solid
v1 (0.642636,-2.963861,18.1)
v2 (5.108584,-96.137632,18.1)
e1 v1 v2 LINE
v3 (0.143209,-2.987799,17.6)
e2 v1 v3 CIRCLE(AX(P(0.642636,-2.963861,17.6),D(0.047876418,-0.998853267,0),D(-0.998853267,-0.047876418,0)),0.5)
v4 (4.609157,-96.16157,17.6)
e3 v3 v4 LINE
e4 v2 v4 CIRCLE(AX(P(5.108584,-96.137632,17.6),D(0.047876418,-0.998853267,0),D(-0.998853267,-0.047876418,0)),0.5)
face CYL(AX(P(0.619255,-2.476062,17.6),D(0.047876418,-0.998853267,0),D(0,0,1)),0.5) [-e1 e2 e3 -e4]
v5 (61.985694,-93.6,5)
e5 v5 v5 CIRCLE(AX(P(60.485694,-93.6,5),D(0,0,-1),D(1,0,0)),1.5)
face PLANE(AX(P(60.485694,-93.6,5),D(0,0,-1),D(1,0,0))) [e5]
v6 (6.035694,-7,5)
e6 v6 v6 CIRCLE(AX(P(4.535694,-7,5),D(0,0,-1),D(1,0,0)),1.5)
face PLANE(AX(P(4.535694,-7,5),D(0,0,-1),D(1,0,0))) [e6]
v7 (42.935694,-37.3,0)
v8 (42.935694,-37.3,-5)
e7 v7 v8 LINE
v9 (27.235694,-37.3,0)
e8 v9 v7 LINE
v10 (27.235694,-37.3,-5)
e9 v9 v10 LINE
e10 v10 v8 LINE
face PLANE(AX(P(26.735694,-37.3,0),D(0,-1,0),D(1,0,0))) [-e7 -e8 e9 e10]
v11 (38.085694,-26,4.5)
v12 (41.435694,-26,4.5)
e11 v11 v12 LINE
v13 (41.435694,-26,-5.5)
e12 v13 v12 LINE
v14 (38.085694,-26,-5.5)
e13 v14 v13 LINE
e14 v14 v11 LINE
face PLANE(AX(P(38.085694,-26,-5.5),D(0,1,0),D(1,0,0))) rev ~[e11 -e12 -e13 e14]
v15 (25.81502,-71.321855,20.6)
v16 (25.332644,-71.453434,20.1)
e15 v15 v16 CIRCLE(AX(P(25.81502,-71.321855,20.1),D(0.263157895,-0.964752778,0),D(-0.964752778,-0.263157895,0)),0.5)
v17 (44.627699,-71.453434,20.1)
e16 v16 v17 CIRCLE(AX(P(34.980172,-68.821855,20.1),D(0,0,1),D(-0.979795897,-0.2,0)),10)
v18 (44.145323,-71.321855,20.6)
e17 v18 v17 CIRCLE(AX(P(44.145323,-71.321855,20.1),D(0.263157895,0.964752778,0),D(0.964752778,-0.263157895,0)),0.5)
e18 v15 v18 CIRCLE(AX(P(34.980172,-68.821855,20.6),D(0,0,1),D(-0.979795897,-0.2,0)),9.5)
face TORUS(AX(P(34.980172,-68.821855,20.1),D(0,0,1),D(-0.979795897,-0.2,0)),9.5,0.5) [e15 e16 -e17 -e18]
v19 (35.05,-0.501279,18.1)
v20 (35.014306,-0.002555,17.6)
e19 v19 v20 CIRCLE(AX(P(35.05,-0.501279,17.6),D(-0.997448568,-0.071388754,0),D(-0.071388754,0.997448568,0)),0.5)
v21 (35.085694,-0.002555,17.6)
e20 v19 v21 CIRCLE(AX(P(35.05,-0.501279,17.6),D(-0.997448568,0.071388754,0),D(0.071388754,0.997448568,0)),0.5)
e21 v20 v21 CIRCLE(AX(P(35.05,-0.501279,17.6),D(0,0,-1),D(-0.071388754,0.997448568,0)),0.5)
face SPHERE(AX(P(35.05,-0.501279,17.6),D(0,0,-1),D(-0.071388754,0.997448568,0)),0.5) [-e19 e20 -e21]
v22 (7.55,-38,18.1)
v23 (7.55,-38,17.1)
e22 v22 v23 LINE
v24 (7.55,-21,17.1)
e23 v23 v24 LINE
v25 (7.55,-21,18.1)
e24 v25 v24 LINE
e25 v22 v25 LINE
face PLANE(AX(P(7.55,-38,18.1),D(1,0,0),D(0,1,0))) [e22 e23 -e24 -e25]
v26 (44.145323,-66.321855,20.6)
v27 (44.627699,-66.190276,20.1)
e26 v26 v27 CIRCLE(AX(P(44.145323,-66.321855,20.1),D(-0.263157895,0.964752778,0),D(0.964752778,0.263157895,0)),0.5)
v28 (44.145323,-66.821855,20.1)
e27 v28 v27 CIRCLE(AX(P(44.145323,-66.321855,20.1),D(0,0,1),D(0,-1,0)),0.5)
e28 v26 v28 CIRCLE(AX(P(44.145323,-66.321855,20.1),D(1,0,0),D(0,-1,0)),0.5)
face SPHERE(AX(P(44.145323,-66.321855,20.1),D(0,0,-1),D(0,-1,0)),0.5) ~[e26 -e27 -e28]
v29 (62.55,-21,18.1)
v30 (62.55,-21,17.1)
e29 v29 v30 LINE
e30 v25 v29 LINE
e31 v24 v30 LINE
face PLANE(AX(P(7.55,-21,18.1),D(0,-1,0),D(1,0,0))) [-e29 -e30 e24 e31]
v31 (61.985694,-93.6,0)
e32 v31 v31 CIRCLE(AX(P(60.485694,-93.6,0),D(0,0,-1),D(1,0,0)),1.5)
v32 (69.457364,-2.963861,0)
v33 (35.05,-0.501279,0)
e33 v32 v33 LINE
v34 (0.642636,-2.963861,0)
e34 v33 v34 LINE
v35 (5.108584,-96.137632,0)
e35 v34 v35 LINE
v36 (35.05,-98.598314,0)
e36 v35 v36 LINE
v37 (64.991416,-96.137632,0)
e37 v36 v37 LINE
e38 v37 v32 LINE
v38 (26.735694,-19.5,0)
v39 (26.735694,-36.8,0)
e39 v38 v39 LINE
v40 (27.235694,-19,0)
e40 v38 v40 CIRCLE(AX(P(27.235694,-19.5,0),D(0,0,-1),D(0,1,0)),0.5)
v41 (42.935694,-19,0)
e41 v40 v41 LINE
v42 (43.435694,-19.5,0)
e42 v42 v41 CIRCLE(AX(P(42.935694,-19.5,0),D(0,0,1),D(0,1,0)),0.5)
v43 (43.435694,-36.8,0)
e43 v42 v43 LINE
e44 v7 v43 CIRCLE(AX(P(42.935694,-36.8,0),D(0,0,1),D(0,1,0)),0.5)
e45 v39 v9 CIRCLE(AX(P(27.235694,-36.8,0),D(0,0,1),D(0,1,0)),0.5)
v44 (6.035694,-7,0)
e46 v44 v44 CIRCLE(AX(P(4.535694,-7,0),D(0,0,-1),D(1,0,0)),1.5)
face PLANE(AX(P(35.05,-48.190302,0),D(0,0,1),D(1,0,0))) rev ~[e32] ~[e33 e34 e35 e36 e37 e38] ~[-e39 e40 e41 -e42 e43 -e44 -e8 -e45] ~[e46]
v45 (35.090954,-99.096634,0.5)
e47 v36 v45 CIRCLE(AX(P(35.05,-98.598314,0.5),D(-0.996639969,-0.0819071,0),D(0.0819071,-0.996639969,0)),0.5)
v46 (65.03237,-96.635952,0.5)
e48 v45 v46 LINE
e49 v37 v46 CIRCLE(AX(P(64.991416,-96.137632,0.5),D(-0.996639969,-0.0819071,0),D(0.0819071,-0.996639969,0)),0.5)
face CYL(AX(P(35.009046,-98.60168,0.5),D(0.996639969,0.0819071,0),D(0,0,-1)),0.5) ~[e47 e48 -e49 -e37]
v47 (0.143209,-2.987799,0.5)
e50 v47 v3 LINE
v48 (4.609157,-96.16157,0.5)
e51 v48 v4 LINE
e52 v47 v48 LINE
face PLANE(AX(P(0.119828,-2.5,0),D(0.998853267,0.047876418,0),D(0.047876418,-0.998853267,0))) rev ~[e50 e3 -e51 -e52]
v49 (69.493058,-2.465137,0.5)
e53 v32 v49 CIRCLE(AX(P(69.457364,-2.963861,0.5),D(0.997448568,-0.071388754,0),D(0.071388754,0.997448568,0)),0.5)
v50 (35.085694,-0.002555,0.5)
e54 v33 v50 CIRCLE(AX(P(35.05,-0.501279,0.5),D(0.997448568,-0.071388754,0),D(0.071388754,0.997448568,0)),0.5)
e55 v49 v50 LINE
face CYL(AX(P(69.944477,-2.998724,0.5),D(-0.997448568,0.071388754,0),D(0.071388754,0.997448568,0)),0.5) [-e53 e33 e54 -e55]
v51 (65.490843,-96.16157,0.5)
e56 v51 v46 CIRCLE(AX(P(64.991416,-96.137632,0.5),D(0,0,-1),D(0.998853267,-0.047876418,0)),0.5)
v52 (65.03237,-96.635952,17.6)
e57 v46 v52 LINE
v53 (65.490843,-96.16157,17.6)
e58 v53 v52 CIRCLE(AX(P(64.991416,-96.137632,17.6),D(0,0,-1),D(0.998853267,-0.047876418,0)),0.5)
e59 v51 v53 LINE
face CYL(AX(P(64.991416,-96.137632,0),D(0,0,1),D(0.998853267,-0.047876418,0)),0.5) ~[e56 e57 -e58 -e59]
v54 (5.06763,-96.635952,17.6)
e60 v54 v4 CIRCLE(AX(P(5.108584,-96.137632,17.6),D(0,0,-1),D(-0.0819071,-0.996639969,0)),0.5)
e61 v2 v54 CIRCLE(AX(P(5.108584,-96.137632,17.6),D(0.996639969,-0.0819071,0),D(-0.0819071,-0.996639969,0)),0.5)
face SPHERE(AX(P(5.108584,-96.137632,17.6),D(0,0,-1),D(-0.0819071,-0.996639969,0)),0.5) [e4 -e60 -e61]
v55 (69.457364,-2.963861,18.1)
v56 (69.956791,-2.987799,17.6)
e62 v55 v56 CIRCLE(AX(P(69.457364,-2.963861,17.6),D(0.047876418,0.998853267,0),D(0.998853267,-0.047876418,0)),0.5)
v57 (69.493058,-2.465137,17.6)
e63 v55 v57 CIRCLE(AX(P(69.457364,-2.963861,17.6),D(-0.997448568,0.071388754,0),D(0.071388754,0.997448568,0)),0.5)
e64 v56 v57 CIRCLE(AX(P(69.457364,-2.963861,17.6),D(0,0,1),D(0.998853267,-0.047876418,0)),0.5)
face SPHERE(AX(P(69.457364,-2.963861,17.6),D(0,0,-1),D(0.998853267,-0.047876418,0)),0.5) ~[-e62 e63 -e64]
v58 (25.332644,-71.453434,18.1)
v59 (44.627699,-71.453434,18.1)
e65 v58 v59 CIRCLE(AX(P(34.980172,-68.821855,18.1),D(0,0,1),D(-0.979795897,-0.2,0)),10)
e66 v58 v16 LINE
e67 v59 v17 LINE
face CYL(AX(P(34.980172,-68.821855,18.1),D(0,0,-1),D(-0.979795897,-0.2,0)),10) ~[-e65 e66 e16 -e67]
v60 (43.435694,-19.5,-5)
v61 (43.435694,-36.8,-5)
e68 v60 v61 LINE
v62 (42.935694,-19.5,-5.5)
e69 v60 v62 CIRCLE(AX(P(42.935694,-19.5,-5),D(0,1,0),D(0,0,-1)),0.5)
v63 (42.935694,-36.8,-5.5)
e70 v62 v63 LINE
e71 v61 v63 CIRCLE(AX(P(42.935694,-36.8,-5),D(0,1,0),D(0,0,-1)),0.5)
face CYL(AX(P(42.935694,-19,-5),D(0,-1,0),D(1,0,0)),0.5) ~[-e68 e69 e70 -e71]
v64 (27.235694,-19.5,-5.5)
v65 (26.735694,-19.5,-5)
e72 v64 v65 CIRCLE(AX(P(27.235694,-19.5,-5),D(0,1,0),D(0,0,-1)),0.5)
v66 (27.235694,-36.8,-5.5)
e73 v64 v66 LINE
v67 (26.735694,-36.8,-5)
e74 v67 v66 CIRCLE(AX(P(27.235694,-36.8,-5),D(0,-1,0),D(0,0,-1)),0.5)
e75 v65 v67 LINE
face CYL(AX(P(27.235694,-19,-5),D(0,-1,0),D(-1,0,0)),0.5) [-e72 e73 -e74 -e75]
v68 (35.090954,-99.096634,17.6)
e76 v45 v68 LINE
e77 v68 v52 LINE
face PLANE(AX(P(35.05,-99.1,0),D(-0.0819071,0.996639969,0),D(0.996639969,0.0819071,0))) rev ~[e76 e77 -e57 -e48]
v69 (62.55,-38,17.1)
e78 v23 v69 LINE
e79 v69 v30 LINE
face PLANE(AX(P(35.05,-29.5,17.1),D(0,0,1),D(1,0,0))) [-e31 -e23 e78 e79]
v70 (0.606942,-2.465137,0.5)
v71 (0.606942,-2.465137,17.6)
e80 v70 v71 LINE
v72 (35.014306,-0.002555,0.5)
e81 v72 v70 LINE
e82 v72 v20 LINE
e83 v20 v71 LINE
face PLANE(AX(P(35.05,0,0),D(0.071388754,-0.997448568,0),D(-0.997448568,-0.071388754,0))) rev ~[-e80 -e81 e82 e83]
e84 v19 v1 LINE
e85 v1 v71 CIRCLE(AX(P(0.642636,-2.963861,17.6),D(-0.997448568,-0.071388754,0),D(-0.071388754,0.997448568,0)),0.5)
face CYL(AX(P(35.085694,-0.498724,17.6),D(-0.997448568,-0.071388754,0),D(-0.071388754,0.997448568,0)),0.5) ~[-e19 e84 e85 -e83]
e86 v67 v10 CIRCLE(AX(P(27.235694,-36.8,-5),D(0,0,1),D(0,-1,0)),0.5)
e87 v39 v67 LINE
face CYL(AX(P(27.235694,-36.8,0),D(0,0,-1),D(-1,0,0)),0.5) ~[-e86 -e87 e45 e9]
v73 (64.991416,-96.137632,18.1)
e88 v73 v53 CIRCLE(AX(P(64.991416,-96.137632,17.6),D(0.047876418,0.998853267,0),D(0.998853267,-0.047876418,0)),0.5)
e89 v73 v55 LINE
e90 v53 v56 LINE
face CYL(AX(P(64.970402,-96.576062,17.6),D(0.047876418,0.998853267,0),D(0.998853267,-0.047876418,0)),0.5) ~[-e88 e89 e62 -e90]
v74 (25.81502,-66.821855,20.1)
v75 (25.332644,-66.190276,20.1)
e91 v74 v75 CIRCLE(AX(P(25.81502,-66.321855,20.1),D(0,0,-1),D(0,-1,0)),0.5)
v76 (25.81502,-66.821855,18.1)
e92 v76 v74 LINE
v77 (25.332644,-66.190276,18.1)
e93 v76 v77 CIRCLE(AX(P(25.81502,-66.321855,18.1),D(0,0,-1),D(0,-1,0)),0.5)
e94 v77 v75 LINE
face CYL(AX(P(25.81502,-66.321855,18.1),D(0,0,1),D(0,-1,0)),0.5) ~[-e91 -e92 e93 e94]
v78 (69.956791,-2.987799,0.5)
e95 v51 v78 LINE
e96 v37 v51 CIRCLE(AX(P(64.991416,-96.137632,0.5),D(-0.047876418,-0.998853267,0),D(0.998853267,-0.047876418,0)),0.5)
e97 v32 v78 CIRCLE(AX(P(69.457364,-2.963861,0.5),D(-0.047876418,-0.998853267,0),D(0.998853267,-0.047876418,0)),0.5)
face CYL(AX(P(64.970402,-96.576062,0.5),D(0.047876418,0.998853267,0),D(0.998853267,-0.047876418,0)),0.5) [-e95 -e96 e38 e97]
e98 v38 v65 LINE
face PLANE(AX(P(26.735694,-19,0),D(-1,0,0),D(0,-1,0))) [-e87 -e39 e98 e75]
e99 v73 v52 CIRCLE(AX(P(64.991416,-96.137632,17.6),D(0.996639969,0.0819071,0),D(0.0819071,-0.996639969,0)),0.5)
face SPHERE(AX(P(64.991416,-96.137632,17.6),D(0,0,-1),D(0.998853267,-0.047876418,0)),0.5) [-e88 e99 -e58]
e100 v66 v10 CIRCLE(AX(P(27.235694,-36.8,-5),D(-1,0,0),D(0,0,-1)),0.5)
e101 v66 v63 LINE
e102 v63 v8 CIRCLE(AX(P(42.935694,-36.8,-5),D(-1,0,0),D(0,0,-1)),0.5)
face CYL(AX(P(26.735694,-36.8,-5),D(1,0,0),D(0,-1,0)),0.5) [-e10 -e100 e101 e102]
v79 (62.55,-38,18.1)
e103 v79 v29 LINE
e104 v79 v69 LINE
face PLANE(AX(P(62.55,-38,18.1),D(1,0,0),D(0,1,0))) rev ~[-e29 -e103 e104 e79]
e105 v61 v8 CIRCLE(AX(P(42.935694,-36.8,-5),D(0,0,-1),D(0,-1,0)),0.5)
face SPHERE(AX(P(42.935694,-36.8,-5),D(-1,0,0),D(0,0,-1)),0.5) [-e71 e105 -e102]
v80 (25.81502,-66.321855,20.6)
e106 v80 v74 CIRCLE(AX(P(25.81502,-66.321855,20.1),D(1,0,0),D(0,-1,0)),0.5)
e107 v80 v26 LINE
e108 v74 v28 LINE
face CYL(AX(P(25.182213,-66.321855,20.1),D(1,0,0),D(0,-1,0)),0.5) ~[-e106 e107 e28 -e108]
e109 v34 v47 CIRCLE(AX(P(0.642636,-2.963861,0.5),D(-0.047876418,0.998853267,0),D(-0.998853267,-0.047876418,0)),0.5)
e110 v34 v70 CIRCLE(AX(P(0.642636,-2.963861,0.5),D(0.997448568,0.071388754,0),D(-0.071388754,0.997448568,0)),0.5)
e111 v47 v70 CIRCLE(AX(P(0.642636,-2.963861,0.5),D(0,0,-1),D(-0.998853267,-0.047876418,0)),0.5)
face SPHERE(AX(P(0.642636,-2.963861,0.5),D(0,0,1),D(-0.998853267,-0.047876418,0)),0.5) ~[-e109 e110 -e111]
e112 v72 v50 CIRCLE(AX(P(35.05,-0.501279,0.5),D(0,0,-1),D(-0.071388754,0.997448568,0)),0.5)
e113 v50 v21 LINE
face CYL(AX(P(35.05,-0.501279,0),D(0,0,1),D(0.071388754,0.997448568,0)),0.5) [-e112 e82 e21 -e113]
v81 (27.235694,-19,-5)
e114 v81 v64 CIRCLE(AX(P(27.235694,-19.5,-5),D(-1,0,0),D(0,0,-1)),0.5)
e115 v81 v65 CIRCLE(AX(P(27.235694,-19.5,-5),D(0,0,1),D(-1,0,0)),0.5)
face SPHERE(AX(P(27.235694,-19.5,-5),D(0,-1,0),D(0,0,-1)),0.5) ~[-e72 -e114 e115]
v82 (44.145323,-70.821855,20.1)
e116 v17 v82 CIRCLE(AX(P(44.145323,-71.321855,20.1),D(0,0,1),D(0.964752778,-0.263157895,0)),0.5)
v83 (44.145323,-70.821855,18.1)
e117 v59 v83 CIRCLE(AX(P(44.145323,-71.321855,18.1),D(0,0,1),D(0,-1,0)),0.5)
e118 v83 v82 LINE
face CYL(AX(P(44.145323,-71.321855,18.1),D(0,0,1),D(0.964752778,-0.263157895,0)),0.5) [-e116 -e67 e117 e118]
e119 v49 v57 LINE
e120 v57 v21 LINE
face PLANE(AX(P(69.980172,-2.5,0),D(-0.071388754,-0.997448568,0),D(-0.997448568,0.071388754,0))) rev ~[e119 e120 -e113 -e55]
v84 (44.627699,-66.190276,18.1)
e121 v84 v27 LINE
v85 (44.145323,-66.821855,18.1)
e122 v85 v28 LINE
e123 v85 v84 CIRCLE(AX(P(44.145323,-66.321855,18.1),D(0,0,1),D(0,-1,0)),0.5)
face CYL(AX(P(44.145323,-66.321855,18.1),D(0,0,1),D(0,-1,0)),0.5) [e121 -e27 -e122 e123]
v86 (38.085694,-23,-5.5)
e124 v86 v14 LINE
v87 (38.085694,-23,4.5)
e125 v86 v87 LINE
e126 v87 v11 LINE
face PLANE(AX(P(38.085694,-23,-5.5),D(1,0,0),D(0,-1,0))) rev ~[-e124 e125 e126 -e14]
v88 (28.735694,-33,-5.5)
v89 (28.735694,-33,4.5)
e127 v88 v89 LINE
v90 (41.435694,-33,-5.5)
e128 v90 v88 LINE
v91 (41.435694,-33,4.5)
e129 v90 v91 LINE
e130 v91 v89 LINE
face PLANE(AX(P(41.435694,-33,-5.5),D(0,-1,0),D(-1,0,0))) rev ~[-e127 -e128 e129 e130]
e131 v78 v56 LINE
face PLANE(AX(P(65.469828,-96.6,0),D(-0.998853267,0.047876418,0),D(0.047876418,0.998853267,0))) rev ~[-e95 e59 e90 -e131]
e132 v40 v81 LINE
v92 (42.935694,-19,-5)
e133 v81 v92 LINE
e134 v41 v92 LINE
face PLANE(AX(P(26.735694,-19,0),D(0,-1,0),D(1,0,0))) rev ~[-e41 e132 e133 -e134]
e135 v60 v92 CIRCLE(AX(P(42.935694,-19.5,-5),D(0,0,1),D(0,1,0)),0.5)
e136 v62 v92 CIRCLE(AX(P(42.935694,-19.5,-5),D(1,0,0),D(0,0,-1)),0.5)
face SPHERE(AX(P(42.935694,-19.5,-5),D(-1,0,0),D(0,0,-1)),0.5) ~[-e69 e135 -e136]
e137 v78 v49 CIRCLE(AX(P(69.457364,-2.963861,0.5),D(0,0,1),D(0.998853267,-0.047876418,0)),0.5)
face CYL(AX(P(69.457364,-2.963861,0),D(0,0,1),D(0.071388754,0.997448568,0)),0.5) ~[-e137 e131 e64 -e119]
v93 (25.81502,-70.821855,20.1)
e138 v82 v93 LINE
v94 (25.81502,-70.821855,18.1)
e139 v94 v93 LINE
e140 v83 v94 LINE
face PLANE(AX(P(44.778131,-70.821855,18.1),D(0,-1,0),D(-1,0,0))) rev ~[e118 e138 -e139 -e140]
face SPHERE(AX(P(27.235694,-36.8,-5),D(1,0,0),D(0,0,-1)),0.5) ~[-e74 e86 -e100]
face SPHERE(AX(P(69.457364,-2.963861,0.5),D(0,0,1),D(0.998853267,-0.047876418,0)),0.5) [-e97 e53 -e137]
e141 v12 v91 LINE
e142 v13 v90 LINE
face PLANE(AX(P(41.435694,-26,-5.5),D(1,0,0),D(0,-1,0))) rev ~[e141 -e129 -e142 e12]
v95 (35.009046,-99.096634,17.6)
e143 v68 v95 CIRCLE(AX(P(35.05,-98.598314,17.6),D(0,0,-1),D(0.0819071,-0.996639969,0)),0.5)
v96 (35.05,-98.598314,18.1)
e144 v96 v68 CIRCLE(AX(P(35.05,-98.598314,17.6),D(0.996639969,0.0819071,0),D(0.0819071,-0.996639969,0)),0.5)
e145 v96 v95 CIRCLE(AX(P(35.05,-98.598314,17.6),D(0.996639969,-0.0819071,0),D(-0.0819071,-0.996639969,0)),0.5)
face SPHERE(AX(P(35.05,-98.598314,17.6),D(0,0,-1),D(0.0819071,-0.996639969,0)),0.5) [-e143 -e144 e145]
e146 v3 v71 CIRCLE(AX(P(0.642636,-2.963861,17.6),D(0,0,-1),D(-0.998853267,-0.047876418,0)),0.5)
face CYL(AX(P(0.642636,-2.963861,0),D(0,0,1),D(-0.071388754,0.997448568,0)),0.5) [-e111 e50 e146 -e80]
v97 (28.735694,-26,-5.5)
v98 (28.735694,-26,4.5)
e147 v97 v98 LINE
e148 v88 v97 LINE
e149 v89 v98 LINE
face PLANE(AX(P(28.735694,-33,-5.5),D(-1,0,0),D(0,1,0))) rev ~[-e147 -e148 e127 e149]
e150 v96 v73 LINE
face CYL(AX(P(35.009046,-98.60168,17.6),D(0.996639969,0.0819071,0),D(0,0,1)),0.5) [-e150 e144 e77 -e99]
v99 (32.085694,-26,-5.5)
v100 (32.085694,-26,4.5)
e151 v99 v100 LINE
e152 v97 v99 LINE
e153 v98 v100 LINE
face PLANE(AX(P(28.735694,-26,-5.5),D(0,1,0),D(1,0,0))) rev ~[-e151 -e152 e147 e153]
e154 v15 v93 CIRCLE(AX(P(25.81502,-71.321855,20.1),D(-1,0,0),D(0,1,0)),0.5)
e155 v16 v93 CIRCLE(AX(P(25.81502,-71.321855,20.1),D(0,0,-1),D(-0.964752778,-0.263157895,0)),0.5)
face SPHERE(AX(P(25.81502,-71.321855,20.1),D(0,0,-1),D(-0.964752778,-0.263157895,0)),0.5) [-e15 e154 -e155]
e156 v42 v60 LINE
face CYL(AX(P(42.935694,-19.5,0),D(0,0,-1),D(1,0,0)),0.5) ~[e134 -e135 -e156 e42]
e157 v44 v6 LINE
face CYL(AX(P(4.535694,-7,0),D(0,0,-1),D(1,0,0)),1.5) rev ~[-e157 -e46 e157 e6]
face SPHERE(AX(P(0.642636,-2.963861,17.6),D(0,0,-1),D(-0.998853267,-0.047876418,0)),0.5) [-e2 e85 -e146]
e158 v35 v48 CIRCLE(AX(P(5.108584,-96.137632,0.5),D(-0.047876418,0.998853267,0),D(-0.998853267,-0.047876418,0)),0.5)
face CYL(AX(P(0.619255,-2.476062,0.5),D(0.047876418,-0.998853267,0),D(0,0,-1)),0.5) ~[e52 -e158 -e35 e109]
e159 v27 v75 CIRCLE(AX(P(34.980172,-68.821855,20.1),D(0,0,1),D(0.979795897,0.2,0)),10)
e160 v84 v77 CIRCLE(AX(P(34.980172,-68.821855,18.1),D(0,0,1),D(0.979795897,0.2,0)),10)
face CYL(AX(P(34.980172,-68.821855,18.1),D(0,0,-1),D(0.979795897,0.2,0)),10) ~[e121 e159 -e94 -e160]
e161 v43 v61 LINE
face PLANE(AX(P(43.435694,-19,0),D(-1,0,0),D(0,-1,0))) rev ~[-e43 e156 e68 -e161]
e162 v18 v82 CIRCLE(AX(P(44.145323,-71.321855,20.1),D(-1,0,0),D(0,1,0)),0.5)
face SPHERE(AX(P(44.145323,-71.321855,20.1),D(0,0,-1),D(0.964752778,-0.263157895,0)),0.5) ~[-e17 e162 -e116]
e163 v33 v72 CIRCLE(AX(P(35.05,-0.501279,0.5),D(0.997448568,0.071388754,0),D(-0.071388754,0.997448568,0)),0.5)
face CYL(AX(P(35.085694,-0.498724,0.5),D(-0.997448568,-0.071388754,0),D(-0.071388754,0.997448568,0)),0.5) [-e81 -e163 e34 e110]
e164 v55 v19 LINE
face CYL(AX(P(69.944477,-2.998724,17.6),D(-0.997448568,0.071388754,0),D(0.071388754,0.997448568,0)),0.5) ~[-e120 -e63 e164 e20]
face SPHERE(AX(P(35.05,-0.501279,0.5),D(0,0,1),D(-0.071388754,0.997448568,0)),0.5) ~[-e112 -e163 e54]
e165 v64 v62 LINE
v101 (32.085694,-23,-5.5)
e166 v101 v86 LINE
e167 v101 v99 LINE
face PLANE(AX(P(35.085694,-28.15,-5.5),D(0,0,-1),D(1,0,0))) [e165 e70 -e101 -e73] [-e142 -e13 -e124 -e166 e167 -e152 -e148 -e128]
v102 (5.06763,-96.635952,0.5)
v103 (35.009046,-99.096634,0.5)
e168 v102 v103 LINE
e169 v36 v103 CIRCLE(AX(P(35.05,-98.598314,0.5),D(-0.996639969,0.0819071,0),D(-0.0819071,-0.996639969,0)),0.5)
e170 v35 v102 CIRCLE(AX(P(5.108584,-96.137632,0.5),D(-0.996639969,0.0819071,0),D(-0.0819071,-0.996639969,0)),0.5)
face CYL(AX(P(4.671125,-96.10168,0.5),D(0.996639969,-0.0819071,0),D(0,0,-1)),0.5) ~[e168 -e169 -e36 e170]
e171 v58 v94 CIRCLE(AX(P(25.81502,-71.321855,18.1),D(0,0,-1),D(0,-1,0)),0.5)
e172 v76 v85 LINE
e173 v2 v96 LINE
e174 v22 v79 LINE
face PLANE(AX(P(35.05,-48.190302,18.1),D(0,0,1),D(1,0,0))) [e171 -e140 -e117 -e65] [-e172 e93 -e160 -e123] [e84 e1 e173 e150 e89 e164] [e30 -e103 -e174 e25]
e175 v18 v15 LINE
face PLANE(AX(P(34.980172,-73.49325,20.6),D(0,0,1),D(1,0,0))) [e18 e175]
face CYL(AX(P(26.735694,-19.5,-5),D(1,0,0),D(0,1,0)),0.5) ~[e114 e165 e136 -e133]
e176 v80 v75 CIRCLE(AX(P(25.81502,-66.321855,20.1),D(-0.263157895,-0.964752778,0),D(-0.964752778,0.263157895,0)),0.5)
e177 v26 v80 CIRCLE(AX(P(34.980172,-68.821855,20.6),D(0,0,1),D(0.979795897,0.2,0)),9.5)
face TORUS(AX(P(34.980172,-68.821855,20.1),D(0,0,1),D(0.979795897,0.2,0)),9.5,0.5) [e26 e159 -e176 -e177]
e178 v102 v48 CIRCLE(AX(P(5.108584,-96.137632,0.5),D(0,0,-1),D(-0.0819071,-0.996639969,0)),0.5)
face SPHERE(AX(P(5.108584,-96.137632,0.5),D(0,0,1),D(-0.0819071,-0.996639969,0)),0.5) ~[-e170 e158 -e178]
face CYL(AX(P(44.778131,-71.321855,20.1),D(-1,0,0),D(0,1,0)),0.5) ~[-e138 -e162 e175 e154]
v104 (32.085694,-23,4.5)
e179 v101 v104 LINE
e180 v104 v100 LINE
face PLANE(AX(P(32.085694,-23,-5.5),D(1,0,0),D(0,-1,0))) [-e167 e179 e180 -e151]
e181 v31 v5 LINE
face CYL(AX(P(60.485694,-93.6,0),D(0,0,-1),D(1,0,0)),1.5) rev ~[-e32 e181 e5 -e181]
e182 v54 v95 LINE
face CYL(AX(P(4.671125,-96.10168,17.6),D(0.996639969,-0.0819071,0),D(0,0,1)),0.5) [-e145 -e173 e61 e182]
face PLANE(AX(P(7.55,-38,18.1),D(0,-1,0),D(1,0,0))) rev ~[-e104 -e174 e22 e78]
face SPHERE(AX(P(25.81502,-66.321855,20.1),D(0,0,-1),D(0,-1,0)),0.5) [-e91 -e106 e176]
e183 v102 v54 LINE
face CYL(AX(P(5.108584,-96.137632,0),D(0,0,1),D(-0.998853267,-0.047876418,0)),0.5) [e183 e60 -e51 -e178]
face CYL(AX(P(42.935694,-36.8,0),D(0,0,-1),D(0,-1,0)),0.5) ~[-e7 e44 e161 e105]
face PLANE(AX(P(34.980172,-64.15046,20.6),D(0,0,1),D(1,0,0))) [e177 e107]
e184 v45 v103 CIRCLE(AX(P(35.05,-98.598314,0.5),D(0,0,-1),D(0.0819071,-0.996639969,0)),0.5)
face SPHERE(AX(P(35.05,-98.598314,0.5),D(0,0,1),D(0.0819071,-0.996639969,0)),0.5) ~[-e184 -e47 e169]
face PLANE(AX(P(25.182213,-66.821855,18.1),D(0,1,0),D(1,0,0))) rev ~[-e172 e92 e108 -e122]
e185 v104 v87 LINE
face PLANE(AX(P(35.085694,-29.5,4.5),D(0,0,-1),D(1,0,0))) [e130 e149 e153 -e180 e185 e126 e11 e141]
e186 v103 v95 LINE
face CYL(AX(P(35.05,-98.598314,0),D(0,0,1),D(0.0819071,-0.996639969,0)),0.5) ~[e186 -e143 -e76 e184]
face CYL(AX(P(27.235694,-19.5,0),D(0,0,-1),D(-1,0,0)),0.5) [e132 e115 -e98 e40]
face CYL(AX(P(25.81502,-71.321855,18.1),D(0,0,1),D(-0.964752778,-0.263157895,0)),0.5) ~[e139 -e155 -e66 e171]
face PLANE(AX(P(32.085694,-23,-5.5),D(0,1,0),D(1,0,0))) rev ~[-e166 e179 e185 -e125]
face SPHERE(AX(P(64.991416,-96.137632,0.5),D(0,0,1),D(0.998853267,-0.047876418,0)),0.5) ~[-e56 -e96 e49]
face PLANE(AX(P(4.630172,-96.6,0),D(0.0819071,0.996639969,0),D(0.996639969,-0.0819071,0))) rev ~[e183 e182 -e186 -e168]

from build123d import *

# Parameters (mm, degrees)
F1_DEPTH  = 18.1
F3_DEPTH  = 2.5
F4_W      = 55
F4_H      = 17
F5_DEPTH  = 1
F6_R      = 0.5
F7_W      = 16.7
F7_H      = 18.3
F8_DEPTH  = 5.5
F9_R      = 0.5
F10_W     = 6
F10_H     = 3
F11_DEPTH = 10
F12_R     = 1.5
F13_DEPTH = 5


with BuildPart() as f1:
    # F0 (on Top) → F1 (new body)
    with BuildSketch(Plane.XY):
        Polygon((69.9801715439, -2.5), (35.05, 0), (0.1198284561, -2.5), (4.6301715439, -96.6), (35.05, -99.1), (65.4698284561, -96.6), align=None)
    extrude(amount=F1_DEPTH)

    # F2 (on face) → F3 (join)
    with BuildSketch(Plane.XY.offset(18.1)):
        with BuildLine():
            Line((25.1822125728, -66.8218548894), (44.778130515, -66.8218548894))
            ThreePointArc((44.778130515, -66.8218548894), (34.9801715439, -58.8218548894), (25.1822125728, -66.8218548894))
        make_face()
        with BuildLine():
            ThreePointArc((25.1822125728, -70.8218548894), (34.9801715439, -78.8218548894), (44.778130515, -70.8218548894))
            Line((44.778130515, -70.8218548894), (25.1822125728, -70.8218548894))
        make_face()
    extrude(amount=F3_DEPTH)

    # F4 (on face) → F5 (cut)
    with BuildSketch(Plane.XY.offset(18.1)):
        with Locations((35.05, -29.5)):
            Rectangle(F4_W, F4_H)
    extrude(amount=-F5_DEPTH, mode=Mode.SUBTRACT)

    # F6
    f6_edges = [f1.edges().sort_by_distance(p)[0] for p in [
        (34.980172, -66.821855, 20.6),
        (34.980172, -58.821855, 20.6),
        (34.980172, -78.821855, 20.6),
        (34.980172, -70.821855, 20.6),
        (25.182213, -70.821855, 19.35),
        (44.778131, -66.821855, 19.35),
        (25.182213, -66.821855, 19.35),
        (44.778131, -70.821855, 19.35),
        (65.469828, -96.6, 9.05),
        (69.980172, -2.5, 9.05),
        (67.725, -49.55, 0),
        (67.725, -49.55, 18.1),
        (35.05, -99.1, 9.05),
        (50.259914, -97.85, 0),
        (50.259914, -97.85, 18.1),
        (4.630172, -96.6, 9.05),
        (19.840086, -97.85, 0),
        (19.840086, -97.85, 18.1),
        (0.119828, -2.5, 9.05),
        (2.375, -49.55, 0),
        (2.375, -49.55, 18.1),
        (35.05, 0, 9.05),
        (17.584914, -1.25, 0),
        (17.584914, -1.25, 18.1),
        (52.515086, -1.25, 0),
        (52.515086, -1.25, 18.1),
    ]]
    fillet(f6_edges, radius=F6_R)

    # F7 (on face) → F8 (join)
    with BuildSketch(Plane(origin=(0, 0, 0), x_dir=(1, 0, 0), z_dir=(0, 0, -1))):
        with Locations((35.0856943769, 28.15)):
            Rectangle(F7_W, F7_H)
    extrude(amount=F8_DEPTH)

    # F9
    f9_edges = [f1.edges().sort_by_distance(p)[0] for p in [
        (35.085694, -37.3, -5.5),
        (26.735694, -28.15, -5.5),
        (35.085694, -19, -5.5),
        (43.435694, -28.15, -5.5),
        (43.435694, -19, -2.75),
        (26.735694, -19, -2.75),
        (26.735694, -37.3, -2.75),
        (43.435694, -37.3, -2.75),
    ]]
    fillet(f9_edges, radius=F9_R)

    # F10 (on face) → F11 (cut)
    with BuildSketch(Plane(origin=(0, 0, -5.5), x_dir=(1, 0, 0), z_dir=(0, 0, -1))):
        Polygon((38.0856943769, 26), (41.4356943769, 26), (41.4356943769, 33), (28.7356943769, 33), (28.7356943769, 26), (32.0856943769, 26), align=None)
        with Locations((35.0856943769, 24.5)):
            Rectangle(F10_W, F10_H)
    extrude(amount=-F11_DEPTH, mode=Mode.SUBTRACT)

    # F12 (on face) → F13 (cut)
    with BuildSketch(Plane(origin=(0, 0, 0), x_dir=(1, 0, 0), z_dir=(0, 0, -1))):
        with Locations((4.5356943769, 7)):
            Circle(F12_R)
        with Locations((60.4856943769, 93.6)):
            Circle(F12_R)
    extrude(amount=-F13_DEPTH, mode=Mode.SUBTRACT)


solid = f1.part
